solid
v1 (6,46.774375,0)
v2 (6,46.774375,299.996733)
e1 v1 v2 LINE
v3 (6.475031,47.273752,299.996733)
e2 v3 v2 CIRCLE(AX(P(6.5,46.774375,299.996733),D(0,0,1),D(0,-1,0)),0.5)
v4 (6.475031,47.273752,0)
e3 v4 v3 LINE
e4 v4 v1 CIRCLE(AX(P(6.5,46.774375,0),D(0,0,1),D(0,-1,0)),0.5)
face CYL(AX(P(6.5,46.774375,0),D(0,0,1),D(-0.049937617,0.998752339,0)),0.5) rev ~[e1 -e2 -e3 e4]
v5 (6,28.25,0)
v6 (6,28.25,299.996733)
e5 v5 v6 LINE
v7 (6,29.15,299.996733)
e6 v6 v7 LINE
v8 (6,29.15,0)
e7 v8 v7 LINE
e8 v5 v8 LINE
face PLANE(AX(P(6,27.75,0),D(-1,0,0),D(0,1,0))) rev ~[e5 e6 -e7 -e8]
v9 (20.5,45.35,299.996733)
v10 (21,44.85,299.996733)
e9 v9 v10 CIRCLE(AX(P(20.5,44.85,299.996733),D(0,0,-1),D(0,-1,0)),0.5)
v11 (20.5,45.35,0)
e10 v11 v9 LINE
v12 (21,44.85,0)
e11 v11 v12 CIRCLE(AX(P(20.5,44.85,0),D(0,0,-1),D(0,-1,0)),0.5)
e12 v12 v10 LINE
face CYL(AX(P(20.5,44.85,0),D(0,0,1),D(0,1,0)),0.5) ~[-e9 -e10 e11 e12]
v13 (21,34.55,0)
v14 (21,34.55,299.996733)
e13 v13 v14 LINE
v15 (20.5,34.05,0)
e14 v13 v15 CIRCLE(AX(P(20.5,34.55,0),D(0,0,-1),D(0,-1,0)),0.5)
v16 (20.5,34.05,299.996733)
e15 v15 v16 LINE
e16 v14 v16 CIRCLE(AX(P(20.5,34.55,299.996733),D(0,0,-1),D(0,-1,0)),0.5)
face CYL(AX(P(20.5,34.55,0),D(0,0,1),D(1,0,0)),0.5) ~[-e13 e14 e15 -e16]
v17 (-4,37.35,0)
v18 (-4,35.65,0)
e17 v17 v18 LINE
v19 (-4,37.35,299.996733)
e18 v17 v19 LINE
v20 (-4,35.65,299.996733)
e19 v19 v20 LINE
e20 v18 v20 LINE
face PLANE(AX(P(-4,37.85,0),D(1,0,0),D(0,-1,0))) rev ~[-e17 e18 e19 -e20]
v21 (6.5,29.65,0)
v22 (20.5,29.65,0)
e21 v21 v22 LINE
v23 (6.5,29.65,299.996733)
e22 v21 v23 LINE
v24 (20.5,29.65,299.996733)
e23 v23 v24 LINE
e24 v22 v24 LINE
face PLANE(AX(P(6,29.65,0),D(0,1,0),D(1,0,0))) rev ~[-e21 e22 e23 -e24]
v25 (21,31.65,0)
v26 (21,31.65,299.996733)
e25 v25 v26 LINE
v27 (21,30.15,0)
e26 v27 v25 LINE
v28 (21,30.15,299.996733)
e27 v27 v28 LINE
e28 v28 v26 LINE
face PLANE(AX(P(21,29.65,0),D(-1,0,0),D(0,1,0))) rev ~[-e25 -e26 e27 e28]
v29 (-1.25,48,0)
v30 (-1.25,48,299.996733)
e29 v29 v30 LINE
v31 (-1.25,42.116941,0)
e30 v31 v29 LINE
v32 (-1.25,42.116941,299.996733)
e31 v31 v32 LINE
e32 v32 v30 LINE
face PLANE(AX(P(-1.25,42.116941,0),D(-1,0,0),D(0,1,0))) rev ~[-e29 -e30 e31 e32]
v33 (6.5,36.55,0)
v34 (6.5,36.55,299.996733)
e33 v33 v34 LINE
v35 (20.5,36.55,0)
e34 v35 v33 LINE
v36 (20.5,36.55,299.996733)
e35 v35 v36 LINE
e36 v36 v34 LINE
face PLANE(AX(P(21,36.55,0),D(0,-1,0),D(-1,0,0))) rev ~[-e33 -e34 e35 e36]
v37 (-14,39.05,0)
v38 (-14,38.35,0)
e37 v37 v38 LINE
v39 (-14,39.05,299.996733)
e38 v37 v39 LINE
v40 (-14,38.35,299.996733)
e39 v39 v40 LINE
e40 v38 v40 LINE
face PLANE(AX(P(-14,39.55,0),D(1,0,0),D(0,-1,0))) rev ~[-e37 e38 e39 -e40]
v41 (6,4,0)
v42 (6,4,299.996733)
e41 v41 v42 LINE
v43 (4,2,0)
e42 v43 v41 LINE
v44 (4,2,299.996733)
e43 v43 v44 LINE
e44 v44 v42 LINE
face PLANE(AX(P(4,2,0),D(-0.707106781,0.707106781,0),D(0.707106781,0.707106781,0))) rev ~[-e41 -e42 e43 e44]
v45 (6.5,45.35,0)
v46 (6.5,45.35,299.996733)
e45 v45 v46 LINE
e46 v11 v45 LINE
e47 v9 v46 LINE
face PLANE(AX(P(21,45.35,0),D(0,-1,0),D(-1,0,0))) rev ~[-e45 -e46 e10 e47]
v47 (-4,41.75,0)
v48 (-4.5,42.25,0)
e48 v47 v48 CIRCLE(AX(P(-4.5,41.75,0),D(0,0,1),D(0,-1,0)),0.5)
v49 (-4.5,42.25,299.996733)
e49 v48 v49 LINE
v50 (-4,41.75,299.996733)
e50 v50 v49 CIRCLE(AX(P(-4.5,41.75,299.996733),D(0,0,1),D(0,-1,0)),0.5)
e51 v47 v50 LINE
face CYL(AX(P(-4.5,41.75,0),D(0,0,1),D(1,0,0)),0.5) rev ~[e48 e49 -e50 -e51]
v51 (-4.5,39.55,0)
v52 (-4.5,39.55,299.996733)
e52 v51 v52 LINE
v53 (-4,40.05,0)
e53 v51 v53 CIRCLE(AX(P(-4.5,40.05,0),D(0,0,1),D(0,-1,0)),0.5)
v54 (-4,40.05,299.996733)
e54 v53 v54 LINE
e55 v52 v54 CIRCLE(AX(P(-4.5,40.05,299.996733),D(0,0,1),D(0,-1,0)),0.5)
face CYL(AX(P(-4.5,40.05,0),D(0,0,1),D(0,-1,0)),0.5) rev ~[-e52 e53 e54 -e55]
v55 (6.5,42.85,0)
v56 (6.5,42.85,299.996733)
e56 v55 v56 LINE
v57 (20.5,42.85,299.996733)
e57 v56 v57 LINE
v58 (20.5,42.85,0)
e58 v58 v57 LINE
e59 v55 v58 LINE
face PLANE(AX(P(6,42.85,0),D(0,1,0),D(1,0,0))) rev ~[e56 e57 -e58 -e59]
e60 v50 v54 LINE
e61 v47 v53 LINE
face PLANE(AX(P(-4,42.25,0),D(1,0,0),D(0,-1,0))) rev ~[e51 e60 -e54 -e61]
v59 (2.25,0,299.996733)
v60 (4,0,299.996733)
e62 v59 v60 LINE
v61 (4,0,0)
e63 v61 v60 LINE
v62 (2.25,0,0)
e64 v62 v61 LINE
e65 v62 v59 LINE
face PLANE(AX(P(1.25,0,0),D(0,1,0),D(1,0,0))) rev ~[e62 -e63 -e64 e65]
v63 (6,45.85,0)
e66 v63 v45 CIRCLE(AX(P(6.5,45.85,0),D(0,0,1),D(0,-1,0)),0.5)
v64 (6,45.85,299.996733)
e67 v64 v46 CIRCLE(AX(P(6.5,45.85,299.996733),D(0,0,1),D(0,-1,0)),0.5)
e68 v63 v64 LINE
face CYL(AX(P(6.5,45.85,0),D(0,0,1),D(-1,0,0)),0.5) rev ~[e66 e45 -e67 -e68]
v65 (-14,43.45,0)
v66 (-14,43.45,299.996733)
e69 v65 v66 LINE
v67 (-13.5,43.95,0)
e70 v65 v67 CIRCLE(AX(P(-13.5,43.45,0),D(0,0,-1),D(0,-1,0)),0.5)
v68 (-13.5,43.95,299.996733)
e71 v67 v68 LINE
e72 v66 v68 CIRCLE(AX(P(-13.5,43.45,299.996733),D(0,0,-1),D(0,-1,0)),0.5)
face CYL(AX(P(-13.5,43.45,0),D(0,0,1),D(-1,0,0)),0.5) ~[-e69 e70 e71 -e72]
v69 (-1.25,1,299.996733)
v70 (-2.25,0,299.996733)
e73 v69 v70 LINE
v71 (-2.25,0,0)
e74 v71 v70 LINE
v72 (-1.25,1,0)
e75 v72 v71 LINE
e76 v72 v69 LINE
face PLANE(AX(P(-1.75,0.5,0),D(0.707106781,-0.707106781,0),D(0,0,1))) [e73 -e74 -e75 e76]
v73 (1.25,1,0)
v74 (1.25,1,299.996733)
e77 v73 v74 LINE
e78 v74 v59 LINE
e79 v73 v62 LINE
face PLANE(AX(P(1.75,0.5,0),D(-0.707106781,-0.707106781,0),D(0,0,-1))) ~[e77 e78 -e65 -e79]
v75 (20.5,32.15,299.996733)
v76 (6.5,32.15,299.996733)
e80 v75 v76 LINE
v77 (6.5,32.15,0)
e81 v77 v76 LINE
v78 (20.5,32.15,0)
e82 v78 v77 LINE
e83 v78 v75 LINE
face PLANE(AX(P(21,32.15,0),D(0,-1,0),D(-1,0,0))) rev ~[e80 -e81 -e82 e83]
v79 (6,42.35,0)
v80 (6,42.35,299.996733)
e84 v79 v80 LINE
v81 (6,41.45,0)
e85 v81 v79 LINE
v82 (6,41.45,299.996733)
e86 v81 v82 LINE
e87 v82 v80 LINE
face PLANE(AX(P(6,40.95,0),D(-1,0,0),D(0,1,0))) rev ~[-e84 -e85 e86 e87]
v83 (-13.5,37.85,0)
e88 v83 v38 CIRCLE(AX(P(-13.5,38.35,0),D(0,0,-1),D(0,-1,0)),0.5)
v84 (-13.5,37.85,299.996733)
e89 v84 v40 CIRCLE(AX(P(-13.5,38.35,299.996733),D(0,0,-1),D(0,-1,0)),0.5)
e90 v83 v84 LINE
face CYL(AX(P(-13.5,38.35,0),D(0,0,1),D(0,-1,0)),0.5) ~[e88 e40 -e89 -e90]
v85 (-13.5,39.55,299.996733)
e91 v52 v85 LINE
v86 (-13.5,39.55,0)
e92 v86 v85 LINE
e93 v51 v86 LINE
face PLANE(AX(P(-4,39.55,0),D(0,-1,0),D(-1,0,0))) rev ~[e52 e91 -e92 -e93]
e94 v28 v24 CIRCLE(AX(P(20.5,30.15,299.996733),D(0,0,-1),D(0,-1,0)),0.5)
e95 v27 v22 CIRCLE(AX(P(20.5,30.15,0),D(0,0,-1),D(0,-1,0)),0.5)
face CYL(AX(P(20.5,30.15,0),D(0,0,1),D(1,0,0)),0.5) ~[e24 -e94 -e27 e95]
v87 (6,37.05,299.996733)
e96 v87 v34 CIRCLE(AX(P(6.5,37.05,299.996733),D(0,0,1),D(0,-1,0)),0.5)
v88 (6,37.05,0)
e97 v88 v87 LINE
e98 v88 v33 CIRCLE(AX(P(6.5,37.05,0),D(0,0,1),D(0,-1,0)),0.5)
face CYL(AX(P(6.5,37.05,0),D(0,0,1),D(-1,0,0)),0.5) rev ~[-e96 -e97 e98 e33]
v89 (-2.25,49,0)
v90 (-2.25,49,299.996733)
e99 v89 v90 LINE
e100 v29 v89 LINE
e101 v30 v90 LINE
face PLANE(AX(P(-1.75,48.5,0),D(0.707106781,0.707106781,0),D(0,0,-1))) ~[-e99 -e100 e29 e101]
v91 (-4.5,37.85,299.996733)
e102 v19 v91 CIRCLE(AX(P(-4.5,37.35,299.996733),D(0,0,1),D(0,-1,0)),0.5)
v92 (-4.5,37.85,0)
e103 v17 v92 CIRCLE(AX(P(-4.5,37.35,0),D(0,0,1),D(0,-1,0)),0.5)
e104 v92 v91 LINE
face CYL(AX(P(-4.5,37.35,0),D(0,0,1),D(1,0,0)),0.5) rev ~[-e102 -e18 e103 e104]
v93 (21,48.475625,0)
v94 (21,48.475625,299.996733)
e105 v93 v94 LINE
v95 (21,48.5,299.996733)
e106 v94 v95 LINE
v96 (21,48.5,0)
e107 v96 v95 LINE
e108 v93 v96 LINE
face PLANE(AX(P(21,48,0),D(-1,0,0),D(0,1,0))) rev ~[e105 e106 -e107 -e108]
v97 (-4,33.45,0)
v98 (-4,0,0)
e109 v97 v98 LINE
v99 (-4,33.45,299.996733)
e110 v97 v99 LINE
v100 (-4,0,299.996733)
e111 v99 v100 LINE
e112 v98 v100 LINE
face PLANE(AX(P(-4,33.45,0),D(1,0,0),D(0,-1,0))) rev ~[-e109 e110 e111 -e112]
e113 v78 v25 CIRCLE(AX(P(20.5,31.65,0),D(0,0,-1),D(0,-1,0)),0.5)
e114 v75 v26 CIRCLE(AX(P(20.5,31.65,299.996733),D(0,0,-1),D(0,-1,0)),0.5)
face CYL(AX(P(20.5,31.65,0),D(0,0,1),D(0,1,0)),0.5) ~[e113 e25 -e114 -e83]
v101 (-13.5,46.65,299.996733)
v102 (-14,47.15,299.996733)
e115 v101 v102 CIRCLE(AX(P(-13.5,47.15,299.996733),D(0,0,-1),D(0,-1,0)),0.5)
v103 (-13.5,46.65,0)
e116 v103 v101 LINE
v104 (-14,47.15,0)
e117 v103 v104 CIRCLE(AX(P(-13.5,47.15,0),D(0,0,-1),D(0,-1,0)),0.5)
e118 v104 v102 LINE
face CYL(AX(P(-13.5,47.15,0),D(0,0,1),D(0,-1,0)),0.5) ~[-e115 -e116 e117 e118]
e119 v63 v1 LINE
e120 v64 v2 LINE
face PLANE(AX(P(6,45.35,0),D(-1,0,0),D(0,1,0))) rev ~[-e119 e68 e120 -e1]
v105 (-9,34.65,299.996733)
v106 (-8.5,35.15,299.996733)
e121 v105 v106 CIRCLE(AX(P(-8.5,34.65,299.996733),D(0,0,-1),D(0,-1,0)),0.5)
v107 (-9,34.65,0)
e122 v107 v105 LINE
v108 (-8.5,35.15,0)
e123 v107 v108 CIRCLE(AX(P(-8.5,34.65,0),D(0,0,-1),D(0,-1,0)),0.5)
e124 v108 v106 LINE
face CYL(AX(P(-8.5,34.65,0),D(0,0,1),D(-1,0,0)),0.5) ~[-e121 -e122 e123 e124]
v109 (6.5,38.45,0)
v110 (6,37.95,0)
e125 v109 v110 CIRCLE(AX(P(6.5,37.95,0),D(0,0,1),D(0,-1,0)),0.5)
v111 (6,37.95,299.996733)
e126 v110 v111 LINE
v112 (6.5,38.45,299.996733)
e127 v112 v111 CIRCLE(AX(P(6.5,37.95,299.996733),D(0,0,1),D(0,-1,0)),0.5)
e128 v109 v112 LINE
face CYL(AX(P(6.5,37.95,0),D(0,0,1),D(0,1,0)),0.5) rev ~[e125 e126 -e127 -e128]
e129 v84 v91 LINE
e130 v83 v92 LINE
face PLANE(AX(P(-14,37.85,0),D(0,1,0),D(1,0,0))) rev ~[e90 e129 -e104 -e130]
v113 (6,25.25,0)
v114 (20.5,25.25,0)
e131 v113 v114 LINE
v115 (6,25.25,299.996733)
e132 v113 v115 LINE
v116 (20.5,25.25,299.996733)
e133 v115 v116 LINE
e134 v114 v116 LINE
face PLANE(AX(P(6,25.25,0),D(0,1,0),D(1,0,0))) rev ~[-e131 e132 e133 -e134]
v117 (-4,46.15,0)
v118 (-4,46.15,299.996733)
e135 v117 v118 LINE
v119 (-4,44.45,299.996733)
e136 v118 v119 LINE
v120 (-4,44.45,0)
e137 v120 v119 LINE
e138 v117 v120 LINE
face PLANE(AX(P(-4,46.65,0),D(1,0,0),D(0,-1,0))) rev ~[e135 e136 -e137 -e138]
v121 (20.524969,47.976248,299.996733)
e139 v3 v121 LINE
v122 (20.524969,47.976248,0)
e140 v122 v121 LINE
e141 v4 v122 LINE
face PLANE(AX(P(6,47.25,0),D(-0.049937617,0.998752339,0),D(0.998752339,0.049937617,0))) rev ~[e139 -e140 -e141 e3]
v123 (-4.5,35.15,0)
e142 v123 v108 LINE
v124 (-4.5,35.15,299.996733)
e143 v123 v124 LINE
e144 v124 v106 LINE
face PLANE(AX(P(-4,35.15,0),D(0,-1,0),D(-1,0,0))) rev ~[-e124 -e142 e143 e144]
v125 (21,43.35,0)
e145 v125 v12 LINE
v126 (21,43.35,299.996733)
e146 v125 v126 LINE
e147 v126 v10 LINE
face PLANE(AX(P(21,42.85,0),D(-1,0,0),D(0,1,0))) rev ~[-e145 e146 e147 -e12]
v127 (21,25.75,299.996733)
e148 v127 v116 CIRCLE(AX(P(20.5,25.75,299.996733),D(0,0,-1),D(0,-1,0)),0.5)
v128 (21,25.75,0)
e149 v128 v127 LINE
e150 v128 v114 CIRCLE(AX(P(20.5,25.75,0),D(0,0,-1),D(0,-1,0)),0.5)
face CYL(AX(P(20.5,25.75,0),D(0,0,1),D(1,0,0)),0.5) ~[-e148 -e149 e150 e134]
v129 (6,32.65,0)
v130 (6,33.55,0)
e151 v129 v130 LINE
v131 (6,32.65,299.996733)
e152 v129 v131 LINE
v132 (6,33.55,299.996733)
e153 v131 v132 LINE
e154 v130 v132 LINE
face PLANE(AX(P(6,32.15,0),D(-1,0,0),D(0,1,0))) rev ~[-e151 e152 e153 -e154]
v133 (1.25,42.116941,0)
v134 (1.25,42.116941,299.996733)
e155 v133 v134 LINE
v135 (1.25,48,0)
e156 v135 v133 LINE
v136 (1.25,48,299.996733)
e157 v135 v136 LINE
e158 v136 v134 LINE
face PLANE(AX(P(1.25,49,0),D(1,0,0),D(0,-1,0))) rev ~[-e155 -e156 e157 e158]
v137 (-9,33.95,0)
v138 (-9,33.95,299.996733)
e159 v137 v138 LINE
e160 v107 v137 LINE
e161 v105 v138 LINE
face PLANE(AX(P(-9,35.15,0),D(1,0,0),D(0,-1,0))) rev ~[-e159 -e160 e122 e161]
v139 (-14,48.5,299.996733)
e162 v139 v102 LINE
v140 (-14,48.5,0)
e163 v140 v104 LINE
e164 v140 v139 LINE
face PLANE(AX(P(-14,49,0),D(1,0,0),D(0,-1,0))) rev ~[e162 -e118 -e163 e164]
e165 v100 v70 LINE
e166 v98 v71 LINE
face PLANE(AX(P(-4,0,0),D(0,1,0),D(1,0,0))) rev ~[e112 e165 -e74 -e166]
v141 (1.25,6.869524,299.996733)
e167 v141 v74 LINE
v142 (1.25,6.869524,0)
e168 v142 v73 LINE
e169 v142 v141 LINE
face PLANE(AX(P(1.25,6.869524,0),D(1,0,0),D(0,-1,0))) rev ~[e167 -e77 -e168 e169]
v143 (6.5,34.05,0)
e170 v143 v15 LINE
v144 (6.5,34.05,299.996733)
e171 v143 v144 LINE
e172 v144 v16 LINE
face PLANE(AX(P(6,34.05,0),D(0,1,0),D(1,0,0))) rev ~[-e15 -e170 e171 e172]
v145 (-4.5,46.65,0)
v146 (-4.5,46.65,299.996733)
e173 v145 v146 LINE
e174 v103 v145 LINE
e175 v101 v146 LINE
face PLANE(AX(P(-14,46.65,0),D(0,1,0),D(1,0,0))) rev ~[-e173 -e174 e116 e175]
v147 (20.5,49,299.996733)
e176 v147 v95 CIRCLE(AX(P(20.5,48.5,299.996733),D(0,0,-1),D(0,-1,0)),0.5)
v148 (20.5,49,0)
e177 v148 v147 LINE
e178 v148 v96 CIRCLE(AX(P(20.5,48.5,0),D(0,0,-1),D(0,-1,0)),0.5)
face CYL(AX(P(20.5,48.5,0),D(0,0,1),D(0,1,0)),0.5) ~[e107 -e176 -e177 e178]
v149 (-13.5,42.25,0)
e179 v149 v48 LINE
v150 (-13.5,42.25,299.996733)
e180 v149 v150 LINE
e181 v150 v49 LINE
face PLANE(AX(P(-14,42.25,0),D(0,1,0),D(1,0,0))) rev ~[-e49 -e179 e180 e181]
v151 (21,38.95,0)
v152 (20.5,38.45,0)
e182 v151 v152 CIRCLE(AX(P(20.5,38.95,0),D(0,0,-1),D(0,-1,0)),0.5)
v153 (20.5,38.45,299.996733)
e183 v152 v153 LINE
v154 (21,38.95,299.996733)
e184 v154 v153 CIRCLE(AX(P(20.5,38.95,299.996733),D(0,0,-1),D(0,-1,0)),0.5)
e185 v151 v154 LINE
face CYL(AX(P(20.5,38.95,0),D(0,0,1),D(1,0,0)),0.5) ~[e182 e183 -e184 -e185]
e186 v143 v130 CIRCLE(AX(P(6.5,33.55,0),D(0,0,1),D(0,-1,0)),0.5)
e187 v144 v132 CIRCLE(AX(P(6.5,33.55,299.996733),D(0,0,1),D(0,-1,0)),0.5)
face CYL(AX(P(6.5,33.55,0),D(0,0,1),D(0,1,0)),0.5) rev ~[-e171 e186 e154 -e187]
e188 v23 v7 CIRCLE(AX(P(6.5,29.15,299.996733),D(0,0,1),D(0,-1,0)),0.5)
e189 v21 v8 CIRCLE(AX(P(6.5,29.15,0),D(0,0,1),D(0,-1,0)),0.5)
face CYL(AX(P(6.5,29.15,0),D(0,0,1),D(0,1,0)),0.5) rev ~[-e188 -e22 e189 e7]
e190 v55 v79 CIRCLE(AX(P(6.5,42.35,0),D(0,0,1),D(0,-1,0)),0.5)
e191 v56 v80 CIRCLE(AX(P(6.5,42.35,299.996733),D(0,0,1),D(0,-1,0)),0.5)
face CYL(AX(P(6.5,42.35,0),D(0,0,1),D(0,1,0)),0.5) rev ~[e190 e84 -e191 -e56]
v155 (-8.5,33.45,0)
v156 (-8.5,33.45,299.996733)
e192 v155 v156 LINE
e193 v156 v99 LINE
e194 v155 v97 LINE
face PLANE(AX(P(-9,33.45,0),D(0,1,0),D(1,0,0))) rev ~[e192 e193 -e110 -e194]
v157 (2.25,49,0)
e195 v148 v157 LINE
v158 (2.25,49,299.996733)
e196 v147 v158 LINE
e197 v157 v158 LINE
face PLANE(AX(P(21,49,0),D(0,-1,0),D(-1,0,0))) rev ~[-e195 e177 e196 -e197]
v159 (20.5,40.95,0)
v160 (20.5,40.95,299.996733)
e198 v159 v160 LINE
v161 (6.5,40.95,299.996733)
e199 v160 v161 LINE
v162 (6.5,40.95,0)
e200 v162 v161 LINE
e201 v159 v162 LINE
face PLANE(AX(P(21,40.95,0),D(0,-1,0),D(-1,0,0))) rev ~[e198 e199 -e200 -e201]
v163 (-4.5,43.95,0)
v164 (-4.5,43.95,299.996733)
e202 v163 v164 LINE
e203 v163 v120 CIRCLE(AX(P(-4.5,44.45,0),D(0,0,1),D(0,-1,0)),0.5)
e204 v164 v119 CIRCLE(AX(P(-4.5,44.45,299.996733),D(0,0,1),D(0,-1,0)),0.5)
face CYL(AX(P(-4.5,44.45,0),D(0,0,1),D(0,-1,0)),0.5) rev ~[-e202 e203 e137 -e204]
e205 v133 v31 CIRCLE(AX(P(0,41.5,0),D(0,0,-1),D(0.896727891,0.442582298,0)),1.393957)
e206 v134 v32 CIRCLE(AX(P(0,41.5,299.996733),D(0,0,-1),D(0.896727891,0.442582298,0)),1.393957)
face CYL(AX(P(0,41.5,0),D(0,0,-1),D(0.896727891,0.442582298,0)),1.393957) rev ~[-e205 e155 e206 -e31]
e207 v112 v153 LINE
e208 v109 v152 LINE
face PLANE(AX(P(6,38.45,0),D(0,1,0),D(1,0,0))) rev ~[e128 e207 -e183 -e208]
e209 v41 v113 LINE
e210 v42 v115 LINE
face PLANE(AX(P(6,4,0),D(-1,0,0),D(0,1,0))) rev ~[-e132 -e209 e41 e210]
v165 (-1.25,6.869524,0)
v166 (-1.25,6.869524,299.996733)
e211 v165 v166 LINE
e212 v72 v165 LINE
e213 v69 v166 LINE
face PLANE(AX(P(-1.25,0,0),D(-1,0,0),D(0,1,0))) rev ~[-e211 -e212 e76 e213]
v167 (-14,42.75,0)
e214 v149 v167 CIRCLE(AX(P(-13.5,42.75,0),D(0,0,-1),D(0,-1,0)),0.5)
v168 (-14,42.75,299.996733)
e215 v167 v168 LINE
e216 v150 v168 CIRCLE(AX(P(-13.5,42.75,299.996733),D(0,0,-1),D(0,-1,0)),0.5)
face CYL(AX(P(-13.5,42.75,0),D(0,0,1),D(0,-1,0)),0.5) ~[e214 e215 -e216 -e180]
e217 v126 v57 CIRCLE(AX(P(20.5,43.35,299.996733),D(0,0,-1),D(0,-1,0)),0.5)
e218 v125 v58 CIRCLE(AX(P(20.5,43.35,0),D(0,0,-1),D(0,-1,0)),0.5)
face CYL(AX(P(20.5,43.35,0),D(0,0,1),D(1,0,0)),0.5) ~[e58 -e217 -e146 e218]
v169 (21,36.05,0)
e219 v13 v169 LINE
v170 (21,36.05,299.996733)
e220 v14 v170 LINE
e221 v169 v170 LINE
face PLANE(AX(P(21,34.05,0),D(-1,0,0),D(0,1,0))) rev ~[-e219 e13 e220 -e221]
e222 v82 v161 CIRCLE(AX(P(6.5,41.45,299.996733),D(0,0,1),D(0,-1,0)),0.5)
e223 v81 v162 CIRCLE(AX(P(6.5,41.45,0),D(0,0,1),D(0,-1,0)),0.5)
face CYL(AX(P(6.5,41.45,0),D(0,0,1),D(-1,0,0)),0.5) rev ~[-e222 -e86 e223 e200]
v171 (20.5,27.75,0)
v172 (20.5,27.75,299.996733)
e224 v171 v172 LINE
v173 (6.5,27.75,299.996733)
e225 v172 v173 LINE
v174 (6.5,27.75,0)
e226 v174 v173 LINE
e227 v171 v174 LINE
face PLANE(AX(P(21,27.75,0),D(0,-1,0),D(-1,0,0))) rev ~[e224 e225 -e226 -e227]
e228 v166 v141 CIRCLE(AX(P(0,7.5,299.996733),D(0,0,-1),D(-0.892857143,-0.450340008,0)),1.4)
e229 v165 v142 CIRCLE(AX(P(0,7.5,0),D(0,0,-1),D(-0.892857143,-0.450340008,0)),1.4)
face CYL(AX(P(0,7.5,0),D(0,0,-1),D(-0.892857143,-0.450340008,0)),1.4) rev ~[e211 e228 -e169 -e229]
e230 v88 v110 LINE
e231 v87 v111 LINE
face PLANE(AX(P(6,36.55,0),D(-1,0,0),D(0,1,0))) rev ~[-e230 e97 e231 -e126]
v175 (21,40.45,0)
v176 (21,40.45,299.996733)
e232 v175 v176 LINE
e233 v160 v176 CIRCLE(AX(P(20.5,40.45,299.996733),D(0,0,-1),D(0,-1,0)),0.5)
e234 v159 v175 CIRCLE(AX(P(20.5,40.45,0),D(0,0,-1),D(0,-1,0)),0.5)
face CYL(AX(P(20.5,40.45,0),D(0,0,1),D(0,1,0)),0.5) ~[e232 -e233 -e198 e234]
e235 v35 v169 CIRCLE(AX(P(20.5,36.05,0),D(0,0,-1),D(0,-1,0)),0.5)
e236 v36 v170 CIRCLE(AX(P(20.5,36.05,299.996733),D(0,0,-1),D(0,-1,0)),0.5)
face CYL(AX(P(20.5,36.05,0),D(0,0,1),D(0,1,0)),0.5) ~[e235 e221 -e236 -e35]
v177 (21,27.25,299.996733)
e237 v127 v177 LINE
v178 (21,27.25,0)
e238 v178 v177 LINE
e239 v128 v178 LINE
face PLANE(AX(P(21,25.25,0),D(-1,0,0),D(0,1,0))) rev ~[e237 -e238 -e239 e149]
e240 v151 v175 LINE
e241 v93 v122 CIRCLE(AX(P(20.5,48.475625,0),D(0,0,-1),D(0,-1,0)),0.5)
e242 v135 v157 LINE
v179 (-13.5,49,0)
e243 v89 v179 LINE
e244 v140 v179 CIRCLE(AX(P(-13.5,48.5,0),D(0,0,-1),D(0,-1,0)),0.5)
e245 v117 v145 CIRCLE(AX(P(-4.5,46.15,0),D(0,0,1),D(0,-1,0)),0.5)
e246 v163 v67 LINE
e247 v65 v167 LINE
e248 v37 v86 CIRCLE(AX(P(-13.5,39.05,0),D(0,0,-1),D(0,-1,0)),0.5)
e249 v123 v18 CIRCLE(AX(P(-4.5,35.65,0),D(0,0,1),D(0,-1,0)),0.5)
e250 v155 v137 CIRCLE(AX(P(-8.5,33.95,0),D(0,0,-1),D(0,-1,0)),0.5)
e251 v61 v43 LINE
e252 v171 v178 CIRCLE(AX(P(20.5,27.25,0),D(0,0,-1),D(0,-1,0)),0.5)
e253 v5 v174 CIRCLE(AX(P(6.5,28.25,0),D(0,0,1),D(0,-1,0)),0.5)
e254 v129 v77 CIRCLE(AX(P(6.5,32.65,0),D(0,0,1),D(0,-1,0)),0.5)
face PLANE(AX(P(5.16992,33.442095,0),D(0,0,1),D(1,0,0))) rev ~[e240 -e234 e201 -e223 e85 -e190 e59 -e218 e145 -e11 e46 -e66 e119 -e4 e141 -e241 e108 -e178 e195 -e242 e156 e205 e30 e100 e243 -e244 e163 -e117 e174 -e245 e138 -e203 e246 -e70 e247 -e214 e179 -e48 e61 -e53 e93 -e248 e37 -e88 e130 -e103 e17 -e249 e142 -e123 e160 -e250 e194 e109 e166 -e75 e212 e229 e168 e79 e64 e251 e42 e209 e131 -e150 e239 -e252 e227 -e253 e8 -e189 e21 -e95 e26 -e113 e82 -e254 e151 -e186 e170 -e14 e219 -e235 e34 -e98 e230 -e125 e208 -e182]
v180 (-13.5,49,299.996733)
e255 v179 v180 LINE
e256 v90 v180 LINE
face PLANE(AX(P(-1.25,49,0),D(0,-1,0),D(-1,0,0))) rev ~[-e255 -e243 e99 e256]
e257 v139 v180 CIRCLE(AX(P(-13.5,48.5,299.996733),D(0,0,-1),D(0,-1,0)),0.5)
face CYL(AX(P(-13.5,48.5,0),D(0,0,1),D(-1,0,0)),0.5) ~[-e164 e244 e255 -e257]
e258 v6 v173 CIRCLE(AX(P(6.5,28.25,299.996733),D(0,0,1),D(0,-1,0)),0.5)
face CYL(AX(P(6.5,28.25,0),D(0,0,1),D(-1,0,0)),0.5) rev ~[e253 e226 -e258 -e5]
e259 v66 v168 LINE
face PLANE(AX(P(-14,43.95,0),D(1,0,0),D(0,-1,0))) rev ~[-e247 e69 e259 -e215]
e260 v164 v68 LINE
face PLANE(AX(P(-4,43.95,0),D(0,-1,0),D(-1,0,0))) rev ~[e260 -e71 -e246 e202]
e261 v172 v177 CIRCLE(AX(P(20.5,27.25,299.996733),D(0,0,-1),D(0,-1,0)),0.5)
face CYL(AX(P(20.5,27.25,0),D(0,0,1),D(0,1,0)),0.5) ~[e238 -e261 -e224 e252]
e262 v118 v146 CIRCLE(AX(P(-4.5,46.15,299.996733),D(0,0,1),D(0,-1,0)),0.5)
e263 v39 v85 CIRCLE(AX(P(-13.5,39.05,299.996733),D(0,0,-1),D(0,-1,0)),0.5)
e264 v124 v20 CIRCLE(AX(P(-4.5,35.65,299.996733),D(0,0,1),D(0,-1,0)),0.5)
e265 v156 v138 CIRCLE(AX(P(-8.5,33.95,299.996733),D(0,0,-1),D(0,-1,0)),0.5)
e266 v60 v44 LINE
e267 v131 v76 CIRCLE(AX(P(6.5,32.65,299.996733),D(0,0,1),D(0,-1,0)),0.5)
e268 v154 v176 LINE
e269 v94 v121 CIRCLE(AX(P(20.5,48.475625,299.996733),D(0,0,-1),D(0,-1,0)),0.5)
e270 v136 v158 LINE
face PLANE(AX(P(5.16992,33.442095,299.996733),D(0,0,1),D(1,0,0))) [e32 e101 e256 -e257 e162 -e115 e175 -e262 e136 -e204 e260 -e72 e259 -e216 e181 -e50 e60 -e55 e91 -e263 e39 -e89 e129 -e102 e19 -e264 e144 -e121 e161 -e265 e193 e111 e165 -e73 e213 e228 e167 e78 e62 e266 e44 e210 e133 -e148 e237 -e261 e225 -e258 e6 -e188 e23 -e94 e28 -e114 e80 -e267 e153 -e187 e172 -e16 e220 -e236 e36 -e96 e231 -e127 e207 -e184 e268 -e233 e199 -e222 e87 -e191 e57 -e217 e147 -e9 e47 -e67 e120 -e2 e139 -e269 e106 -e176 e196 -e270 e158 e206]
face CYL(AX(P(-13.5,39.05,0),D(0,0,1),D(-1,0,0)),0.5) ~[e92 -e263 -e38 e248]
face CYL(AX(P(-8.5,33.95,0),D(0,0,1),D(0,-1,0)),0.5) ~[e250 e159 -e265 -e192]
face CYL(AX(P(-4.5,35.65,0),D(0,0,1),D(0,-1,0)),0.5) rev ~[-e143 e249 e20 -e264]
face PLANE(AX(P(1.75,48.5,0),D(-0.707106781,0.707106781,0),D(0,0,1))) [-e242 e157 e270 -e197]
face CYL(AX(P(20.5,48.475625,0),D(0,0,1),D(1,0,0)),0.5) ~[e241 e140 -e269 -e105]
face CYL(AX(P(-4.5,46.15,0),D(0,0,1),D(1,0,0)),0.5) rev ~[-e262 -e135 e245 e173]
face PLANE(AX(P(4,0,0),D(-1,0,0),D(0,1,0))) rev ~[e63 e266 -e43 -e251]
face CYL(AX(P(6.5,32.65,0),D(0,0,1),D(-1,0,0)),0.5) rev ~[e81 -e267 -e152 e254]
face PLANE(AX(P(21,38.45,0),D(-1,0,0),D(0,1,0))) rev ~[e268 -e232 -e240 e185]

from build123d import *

# Parameters (mm, degrees)
EXTRUDE_1_DEPTH = 299.99673285
CHAMFER_1_SIZE  = 1
CHAMFER_2_SIZE  = 1
FILLET_1_R      = 0.5
FILLET_2_R      = 0.5
FILLET_3_R      = 0.5
FILLET_4_R      = 0.5
FILLET_5_R      = 0.5
FILLET_6_R      = 0.5
FILLET_7_R      = 0.5
CHAMFER_4_SIZE  = 1
CHAMFER_5_SIZE  = 1


with BuildPart() as part:
    # Эскиз1 → Бобышка-Вытянуть1 (new body)
    with BuildSketch(Plane.XY):
        with BuildLine():
            Line((-1.25, 0), (-1.25, 6.869523989))
            ThreePointArc((-1.25, 6.869523989), (0, 8.9), (1.25, 6.869523989))
            Line((1.25, 6.869523989), (1.25, 0))
            Line((1.25, 0), (4, 0))
            Line((4, 0), (4, 2))
            Line((4, 2), (6, 4))
            Line((6, 4), (6, 25.25))
            Line((6, 25.25), (21, 25.25))
            Line((21, 25.25), (21, 27.75))
            Line((21, 27.75), (6, 27.75))
            Line((6, 27.75), (6, 29.65))
            Line((6, 29.65), (21, 29.65))
            Line((21, 29.65), (21, 32.15))
            Line((21, 32.15), (6, 32.15))
            Line((6, 32.15), (6, 34.05))
            Line((6, 34.05), (21, 34.05))
            Line((21, 34.05), (21, 36.55))
            Line((21, 36.55), (6, 36.55))
            Line((6, 36.55), (6, 38.45))
            Line((6, 38.45), (21, 38.45))
            Line((21, 38.45), (21, 40.95))
            Line((21, 40.95), (6, 40.95))
            Line((6, 40.95), (6, 42.85))
            Line((6, 42.85), (21, 42.85))
            Line((21, 42.85), (21, 45.35))
            Line((21, 45.35), (6, 45.35))
            Line((6, 45.35), (6, 47.25))
            Line((6, 47.25), (21, 48))
            Line((21, 48), (21, 49))
            Line((21, 49), (1.25, 49))
            Line((1.25, 49), (1.25, 42.116940633))
            ThreePointArc((1.25, 42.116940633), (0, 40.106043134), (-1.25, 42.116940633))
            Line((-1.25, 42.116940633), (-1.25, 49))
            Line((-1.25, 49), (-14, 49))
            Line((-14, 49), (-14, 46.65))
            Line((-14, 46.65), (-4, 46.65))
            Line((-4, 46.65), (-4, 43.95))
            Line((-4, 43.95), (-14, 43.95))
            Line((-14, 43.95), (-14, 42.25))
            Line((-14, 42.25), (-4, 42.25))
            Line((-4, 42.25), (-4, 39.55))
            Line((-4, 39.55), (-14, 39.55))
            Line((-14, 39.55), (-14, 37.85))
            Line((-14, 37.85), (-4, 37.85))
            Line((-4, 37.85), (-4, 35.15))
            Line((-4, 35.15), (-9, 35.15))
            Line((-9, 35.15), (-9, 33.45))
            Line((-9, 33.45), (-4, 33.45))
            Line((-4, 33.45), (-4, 0))
            Line((-4, 0), (-1.25, 0))
        make_face()
    extrude(amount=EXTRUDE_1_DEPTH)

    # Фаска1
    chamfer_1_edges = [part.edges().sort_by_distance(p)[0] for p in [
        (-1.25, 0, 149.998366425),
    ]]
    chamfer(chamfer_1_edges, length=CHAMFER_1_SIZE)

    # Фаска2
    chamfer_2_edges = [part.edges().sort_by_distance(p)[0] for p in [
        (1.25, 0, 149.998366425),
    ]]
    chamfer(chamfer_2_edges, length=CHAMFER_2_SIZE)

    # Скругление1
    fillet_1_edges = [part.edges().sort_by_distance(p)[0] for p in [
        (-9, 33.45, 149.998366425),
        (-9, 35.15, 149.998366425),
        (-14, 37.85, 149.998366425),
        (-14, 39.55, 149.998366425),
        (-14, 42.25, 149.998366425),
        (-14, 43.95, 149.998366425),
        (-14, 46.65, 149.998366425),
    ]]
    fillet(fillet_1_edges, radius=FILLET_1_R)

    # Скругление2
    fillet_2_edges = [part.edges().sort_by_distance(p)[0] for p in [
        (-4, 35.15, 149.998366425),
        (-4, 39.55, 149.998366425),
        (-4, 43.95, 149.998366425),
    ]]
    fillet(fillet_2_edges, radius=FILLET_2_R)

    # Скругление3
    fillet_3_edges = [part.edges().sort_by_distance(p)[0] for p in [
        (-4, 37.85, 149.998366425),
        (-4, 42.25, 149.998366425),
        (-4, 46.65, 149.998366425),
    ]]
    fillet(fillet_3_edges, radius=FILLET_3_R)

    # Скругление4
    fillet_4_edges = [part.edges().sort_by_distance(p)[0] for p in [
        (-14, 49, 149.998366425),
    ]]
    fillet(fillet_4_edges, radius=FILLET_4_R)

    # Скругление5
    fillet_5_edges = [part.edges().sort_by_distance(p)[0] for p in [
        (21, 49, 149.998366425),
        (21, 48, 149.998366425),
        (21, 45.35, 149.998366425),
        (21, 42.85, 149.998366425),
        (21, 40.95, 149.998366425),
        (21, 38.45, 149.998366425),
        (21, 36.55, 149.998366425),
        (21, 34.05, 149.998366425),
        (21, 32.15, 149.998366425),
        (21, 29.65, 149.998366425),
        (21, 27.75, 149.998366425),
        (21, 25.25, 149.998366425),
    ]]
    fillet(fillet_5_edges, radius=FILLET_5_R)

    # Скругление6
    fillet_6_edges = [part.edges().sort_by_distance(p)[0] for p in [
        (6, 47.25, 149.998366425),
        (6, 42.85, 149.998366425),
        (6, 38.45, 149.998366425),
        (6, 34.05, 149.998366425),
        (6, 29.65, 149.998366425),
    ]]
    fillet(fillet_6_edges, radius=FILLET_6_R)

    # Скругление7
    fillet_7_edges = [part.edges().sort_by_distance(p)[0] for p in [
        (6, 45.35, 149.998366425),
        (6, 40.95, 149.998366425),
        (6, 36.55, 149.998366425),
        (6, 32.15, 149.998366425),
        (6, 27.75, 149.998366425),
    ]]
    fillet(fillet_7_edges, radius=FILLET_7_R)

    # Фаска4
    chamfer_4_edges = [part.edges().sort_by_distance(p)[0] for p in [
        (-1.25, 49, 149.998366425),
    ]]
    chamfer(chamfer_4_edges, length=CHAMFER_4_SIZE)

    # Фаска5
    chamfer_5_edges = [part.edges().sort_by_distance(p)[0] for p in [
        (1.25, 49, 149.998366425),
    ]]
    chamfer(chamfer_5_edges, length=CHAMFER_5_SIZE)


solid = part.part
